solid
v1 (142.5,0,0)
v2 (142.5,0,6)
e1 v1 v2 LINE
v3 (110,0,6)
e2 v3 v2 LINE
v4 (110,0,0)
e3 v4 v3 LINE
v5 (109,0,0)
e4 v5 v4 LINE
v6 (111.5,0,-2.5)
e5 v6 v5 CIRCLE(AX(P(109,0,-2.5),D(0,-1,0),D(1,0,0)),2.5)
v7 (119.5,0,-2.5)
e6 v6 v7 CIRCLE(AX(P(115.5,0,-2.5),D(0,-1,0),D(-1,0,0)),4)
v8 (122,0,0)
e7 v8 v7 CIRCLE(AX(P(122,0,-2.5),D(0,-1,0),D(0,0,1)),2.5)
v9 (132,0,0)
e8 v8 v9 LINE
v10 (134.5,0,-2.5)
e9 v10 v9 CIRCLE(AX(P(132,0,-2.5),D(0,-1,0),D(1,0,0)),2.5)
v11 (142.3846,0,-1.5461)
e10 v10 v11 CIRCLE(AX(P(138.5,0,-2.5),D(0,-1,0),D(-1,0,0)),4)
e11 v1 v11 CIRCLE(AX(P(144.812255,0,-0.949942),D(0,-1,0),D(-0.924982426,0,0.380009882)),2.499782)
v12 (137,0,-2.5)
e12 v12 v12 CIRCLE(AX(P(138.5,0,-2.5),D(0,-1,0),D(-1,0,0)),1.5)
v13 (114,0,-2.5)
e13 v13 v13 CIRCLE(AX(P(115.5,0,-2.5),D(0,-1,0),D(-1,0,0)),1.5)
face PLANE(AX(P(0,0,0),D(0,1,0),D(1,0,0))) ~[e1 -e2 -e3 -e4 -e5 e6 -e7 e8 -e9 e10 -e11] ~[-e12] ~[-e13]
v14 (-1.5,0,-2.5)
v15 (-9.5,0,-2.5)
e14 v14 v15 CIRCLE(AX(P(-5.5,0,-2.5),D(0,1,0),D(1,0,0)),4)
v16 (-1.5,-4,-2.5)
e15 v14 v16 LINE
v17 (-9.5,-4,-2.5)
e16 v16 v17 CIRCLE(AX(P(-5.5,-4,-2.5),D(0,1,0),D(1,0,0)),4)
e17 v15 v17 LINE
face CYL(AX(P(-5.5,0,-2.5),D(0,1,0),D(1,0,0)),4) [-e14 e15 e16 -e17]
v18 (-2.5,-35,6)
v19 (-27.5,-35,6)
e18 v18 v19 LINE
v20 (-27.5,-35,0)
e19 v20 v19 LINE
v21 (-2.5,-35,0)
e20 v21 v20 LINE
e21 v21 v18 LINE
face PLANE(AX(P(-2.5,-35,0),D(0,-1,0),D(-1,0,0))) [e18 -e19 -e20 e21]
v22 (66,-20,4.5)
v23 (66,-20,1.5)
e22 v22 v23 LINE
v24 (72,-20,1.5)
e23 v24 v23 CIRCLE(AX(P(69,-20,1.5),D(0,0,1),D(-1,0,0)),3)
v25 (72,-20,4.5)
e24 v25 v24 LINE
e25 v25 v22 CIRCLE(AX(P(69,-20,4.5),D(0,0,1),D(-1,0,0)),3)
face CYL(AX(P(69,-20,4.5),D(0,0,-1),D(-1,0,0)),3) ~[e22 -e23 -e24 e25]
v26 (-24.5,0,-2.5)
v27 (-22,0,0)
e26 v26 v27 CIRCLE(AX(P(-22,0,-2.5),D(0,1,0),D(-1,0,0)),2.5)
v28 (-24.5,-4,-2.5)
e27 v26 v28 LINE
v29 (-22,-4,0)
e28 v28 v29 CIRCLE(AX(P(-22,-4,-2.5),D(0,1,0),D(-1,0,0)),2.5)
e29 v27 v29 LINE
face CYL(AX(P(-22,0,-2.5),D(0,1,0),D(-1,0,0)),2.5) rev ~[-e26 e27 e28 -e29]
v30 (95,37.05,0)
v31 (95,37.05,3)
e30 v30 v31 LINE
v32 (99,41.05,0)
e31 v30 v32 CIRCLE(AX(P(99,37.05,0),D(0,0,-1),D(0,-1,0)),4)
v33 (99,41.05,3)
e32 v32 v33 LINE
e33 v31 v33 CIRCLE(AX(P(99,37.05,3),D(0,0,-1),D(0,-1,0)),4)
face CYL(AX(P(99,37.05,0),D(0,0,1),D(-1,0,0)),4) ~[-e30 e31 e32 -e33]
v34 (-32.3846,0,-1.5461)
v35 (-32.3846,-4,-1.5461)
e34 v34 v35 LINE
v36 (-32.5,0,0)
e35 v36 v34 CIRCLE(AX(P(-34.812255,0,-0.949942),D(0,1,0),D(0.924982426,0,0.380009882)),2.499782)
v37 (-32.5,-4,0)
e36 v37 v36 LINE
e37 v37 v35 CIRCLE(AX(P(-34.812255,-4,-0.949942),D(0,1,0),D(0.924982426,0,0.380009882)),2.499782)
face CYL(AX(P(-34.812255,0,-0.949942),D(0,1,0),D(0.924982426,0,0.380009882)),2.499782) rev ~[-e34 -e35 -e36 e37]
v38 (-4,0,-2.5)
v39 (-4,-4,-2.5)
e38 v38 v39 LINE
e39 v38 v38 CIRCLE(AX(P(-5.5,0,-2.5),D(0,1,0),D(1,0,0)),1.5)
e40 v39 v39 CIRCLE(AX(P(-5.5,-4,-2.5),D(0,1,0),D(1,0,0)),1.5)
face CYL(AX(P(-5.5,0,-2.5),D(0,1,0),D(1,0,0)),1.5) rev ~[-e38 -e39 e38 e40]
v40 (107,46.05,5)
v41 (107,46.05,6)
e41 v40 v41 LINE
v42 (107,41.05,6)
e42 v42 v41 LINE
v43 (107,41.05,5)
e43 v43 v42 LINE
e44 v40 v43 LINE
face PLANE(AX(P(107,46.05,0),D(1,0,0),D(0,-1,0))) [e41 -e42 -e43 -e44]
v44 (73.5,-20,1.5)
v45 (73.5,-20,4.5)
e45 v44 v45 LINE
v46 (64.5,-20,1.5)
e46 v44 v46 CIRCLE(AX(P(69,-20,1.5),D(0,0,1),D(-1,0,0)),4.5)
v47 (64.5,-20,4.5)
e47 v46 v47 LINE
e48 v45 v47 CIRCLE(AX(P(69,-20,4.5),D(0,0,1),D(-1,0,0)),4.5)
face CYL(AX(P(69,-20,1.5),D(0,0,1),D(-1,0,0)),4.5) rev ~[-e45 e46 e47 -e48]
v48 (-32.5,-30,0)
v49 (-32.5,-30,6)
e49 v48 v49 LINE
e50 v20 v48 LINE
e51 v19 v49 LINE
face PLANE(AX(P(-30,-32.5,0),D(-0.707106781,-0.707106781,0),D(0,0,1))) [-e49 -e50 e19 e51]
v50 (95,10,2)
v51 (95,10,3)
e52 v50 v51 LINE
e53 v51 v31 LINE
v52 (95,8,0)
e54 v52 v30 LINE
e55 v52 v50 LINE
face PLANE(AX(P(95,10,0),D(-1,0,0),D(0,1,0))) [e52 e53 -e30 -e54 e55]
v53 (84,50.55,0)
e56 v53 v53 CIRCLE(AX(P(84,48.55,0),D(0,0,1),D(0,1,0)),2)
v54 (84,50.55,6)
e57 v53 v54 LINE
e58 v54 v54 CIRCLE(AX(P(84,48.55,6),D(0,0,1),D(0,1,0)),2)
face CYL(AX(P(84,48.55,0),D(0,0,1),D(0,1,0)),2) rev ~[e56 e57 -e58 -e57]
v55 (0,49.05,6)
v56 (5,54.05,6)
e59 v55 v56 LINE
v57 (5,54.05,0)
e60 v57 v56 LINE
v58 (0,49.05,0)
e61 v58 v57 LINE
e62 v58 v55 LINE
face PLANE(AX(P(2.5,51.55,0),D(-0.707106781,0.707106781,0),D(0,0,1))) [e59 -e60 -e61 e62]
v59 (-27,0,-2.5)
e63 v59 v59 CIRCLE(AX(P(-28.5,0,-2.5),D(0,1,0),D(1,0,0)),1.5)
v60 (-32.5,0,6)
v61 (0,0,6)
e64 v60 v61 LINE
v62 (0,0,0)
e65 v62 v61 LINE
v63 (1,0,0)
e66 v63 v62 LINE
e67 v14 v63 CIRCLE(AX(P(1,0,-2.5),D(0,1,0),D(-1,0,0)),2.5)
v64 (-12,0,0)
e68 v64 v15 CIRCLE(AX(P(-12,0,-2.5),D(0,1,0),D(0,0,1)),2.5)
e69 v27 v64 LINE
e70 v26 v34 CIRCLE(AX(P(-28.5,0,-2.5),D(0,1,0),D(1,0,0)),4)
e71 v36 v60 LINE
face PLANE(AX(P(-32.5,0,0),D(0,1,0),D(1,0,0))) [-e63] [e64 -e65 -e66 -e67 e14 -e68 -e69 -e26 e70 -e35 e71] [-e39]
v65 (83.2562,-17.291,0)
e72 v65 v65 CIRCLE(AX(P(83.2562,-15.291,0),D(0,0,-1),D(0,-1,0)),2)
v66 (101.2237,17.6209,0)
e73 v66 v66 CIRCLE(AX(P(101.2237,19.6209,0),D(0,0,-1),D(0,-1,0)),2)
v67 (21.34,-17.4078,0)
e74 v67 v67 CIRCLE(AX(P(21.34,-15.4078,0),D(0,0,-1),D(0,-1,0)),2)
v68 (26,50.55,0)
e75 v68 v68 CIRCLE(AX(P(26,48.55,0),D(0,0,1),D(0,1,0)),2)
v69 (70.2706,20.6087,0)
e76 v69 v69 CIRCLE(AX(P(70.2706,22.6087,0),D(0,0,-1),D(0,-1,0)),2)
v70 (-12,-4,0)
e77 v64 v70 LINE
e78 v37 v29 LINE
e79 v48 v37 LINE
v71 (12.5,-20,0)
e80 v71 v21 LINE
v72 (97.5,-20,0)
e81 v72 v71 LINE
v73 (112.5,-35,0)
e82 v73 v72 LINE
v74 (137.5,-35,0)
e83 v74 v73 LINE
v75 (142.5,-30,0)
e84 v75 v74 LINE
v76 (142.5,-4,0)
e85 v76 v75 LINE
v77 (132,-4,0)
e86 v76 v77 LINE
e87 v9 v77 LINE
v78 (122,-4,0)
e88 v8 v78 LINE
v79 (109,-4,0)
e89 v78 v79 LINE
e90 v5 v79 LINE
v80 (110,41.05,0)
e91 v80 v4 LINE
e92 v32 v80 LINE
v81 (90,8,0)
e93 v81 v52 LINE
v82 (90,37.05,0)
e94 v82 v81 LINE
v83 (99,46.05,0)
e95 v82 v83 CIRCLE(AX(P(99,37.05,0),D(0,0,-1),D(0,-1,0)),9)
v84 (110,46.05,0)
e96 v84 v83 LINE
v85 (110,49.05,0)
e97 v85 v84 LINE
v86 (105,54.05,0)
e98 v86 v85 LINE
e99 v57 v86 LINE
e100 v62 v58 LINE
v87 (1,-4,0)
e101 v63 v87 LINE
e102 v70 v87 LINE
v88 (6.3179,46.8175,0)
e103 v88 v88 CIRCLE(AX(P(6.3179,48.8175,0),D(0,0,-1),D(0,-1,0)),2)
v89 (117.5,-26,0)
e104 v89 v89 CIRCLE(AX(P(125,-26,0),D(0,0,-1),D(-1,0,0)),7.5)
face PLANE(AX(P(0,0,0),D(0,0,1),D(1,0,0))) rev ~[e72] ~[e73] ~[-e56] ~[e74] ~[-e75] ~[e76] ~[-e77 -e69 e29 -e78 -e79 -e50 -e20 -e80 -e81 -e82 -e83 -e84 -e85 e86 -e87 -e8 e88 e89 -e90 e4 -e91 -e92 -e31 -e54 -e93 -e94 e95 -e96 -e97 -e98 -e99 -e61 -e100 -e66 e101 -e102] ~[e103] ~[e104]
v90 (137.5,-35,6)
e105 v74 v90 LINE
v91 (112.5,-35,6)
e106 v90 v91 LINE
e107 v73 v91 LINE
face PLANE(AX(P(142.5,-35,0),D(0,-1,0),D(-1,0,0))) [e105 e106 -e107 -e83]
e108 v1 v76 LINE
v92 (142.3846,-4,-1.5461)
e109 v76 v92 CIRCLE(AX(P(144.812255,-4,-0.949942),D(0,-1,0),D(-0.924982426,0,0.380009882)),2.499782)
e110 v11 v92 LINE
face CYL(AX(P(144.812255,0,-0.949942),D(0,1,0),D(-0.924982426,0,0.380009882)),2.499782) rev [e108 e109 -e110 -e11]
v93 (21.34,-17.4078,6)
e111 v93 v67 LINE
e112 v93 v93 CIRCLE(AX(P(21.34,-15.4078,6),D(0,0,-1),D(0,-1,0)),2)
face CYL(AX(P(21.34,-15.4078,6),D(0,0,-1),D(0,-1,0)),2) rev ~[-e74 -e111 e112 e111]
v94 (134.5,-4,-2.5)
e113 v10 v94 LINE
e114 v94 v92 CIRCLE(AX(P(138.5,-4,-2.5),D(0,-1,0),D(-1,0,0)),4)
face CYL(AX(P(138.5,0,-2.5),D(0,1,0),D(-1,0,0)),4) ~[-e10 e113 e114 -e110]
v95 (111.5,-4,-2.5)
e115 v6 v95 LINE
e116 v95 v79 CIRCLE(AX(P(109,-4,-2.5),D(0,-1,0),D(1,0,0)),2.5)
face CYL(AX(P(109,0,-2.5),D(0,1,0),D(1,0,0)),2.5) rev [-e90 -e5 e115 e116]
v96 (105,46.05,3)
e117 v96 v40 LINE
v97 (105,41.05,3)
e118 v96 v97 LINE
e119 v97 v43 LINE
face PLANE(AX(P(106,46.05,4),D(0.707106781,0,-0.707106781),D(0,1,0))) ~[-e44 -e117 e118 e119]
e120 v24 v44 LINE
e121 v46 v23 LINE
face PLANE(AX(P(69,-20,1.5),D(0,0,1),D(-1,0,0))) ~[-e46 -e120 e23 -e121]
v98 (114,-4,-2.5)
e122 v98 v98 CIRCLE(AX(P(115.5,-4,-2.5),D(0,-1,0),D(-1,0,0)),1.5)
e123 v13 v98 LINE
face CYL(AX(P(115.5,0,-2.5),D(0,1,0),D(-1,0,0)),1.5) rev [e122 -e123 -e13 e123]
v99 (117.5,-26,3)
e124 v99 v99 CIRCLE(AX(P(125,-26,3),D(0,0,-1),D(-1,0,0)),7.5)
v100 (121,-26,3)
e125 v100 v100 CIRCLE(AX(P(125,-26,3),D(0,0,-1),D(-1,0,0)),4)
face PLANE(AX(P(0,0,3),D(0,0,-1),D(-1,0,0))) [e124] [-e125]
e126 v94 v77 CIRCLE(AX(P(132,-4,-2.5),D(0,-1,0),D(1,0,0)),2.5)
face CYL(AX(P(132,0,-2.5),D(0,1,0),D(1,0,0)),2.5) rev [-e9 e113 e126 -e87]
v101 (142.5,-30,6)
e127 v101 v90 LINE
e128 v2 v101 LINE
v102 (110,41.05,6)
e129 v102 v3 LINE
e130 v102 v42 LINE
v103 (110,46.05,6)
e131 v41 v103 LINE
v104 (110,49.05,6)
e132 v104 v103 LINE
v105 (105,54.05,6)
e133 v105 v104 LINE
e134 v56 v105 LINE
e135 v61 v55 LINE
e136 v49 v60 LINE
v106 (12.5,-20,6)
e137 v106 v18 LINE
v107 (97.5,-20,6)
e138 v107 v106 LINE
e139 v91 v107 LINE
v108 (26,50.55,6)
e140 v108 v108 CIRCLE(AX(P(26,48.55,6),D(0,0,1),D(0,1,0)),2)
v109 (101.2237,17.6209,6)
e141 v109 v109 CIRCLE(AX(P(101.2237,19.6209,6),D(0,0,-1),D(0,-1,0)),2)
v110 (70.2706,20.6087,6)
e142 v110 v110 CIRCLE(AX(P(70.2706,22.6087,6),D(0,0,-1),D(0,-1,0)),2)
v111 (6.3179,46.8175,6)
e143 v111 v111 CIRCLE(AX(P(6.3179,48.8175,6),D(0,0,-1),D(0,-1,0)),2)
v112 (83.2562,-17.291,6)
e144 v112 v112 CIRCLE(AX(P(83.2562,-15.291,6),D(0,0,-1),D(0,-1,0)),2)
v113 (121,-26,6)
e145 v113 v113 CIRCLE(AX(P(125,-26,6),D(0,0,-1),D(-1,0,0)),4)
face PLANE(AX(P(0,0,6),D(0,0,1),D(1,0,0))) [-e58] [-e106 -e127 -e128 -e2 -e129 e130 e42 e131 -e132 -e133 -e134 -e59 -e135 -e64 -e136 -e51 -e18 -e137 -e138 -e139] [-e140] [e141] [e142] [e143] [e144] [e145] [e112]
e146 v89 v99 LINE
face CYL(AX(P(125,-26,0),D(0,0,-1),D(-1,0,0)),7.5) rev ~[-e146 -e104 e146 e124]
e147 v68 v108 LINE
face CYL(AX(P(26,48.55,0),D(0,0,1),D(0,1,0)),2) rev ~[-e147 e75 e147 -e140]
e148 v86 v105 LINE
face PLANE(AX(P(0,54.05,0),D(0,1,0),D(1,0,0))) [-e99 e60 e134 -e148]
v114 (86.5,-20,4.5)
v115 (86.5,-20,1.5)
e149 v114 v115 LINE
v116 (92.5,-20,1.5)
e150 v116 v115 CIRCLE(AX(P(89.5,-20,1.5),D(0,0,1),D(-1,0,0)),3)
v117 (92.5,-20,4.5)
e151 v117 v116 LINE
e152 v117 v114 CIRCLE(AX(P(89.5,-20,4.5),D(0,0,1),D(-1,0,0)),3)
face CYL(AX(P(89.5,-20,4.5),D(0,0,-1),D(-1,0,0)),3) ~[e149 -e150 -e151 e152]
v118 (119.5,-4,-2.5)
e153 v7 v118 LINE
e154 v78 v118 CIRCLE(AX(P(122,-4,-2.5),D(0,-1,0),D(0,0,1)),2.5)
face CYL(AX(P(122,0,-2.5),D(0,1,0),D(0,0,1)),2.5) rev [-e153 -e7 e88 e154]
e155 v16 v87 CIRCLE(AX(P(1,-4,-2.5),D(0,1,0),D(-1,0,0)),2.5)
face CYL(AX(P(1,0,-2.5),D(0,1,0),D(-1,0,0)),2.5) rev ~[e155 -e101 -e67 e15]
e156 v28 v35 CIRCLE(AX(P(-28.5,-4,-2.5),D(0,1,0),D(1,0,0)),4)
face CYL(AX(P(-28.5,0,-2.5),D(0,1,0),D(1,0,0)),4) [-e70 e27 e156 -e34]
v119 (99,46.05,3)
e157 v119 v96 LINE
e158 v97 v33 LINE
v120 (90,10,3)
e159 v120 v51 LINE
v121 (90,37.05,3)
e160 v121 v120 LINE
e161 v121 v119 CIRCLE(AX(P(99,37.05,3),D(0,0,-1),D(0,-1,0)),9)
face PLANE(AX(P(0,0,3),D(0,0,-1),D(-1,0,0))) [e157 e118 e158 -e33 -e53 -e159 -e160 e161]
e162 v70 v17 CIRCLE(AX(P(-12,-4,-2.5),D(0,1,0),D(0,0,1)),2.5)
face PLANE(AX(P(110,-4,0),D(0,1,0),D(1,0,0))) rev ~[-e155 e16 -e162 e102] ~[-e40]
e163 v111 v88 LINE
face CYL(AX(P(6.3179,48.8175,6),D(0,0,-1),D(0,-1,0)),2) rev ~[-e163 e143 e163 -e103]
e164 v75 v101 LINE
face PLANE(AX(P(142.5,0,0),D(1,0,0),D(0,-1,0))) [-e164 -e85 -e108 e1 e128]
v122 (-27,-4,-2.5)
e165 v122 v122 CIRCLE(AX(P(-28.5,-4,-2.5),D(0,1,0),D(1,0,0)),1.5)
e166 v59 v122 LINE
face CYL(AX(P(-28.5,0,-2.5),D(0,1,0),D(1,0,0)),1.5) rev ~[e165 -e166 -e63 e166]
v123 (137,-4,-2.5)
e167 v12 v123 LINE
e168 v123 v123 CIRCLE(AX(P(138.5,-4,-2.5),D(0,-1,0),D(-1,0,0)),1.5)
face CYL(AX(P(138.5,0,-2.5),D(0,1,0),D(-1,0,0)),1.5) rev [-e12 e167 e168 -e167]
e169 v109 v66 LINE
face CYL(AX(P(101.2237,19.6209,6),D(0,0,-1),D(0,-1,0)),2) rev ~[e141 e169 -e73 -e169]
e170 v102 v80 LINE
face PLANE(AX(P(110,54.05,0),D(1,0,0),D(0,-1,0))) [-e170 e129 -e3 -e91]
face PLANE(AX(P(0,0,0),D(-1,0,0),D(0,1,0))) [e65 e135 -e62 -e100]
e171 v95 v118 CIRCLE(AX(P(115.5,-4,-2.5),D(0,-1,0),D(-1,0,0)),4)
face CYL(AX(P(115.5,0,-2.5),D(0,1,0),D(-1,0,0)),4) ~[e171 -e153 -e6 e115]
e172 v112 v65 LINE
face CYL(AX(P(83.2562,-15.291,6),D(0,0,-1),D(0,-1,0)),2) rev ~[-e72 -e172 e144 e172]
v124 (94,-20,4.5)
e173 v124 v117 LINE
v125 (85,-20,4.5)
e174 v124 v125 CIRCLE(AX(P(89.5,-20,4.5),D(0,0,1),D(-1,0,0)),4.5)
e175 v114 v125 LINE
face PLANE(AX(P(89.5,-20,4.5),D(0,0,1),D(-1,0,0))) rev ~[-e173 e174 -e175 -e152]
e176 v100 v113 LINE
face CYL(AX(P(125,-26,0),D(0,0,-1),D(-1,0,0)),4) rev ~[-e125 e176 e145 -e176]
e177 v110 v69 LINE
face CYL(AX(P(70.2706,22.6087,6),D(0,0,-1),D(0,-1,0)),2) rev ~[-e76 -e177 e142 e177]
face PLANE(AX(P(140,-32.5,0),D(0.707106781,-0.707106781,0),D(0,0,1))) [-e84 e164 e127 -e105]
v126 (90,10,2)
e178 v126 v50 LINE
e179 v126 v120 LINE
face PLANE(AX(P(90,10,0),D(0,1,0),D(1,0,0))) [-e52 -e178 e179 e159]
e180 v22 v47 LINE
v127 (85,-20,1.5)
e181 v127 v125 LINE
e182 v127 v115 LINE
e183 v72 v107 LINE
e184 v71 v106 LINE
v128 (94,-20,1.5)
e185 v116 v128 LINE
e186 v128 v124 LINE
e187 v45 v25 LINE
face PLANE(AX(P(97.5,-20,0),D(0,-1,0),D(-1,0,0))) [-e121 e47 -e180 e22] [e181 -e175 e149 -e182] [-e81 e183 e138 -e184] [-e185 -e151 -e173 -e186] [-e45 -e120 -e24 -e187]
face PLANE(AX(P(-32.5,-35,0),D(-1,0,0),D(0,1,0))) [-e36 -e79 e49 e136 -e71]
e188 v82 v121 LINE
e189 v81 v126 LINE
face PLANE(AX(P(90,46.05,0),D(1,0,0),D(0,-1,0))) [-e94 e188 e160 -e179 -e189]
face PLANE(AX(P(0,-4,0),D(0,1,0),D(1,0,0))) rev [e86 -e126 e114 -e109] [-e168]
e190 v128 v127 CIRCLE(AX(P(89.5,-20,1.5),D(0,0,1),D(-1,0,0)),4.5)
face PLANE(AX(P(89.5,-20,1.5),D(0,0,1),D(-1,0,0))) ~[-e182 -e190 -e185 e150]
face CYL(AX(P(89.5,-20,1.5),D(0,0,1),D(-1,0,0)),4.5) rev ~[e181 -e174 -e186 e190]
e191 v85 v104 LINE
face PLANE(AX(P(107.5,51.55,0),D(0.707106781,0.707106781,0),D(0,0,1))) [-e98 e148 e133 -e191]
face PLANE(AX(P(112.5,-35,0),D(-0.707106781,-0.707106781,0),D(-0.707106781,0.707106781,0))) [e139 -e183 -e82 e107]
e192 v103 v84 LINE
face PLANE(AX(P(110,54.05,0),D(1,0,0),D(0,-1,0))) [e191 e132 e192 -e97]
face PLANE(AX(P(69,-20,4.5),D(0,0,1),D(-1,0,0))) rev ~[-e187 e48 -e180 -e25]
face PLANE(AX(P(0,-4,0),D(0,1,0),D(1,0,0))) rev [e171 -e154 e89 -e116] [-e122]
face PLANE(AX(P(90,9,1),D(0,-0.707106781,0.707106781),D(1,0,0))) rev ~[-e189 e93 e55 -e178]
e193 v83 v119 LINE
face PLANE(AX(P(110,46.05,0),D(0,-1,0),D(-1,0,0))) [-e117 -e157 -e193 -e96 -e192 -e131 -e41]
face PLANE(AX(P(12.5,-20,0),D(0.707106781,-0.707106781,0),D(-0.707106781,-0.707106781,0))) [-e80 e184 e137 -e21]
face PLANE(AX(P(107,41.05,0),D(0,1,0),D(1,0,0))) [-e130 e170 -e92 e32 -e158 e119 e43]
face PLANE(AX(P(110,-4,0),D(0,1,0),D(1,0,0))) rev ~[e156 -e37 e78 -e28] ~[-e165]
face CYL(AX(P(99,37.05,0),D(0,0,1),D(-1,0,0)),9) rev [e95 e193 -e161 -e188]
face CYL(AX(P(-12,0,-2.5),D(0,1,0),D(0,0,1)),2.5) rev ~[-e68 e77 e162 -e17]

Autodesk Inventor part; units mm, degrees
ref_plane "YZ Plane" through (0, 0, 0) normal (1, 0, 0) x (0, 1, 0)
ref_plane "XZ Plane" through (0, 0, 0) normal (0, 1, 0) x (-1, 0, 0)
sketch "Sketch1" plane through (0, 0, 0) normal (0, 0, 1) x (1, 0, 0)
  line L0 (-32.5, 0) -> (0, 0)
  line L1 (0, 0) -> (0, 54.05)
  line L2 (0, 54.05) -> (110, 54.05)
  line L3 (110, 54.05) -> (110, 0)
  line L4 (110, 0) -> (142.5, 0)
  line L5 (142.5, 0) -> (142.5, -35)
  line L6 (142.5, -35) -> (112.5, -35)
  line L7 (112.5, -35) -> (97.5, -20)
  line L8 (97.5, -20) -> (12.5, -20)
  line L9 (12.5, -20) -> (-2.5, -35)
  line L10 (-2.5, -35) -> (-32.5, -35)
  line L11 (-32.5, -35) -> (-32.5, 0)
  dimension "d0" = 135
  dimension "d1" = 135
  dimension "d2" = 110
  dimension "d3" = 54.05
  dimension "d4" = 35
  dimension "d5" = 32.5
  dimension "d6" = 20
  dimension "d7" = 30
extrude "Extrusion1" add sketch "Sketch1" along normal blind 6
chamfer "Chamfer1" distance 5 angle 45 4 edges at (0, 54.05, 3) (110, 54.05, 3) (-32.5, -35, 3) (142.5, -35, 3)
sketch "Sketch2" plane through (110, 0, 0) normal (0, 1, 0) x (1, 0, 0)
  circle A0 centre (-138.5, 2.5) radius 1.5
  circle A1 centre (-115.5, 2.5) radius 1.5
  line L0 (-142.5, 0) -> (-142.5, -6) projected
  line L1 (-110, 0) -> (-142.5, 0) projected
  circle A2 centre (-138.5, 2.5) radius 4
  line L2 (-142.5, 0) -> (-112.5, 0) projected
  arc A3 (-142.5, 0) -> (-142.3846, 1.5461) centre (-144.8125, 0.95) ccw
  arc A4 (-134.5, 2.5) -> (-132, 0) centre (-132, 2.5) ccw
  arc A5 (-122, 0) -> (-119.5, 2.5) centre (-122, 2.5) ccw
  arc A6 (-111.5, 2.5) -> (-109, 0) centre (-109, 2.5) ccw
  circle A7 centre (-115.5, 2.5) radius 4
  line L3 (-109, 0) -> (-112.3775, 0)
  line L4 (-112.5, 0) -> (-97.5, 0) projected
  point P0 (-122, 0)
  point P1 (-132, 0)
  point P2 (-118.6225, 0)
  point P3 (-112.3775, 0)
  dimension "d13" = 3
  dimension "d14" = 3
  dimension "d15" = 4
  dimension "d16" = 27
  dimension "d17" = 2.5
  dimension "d18" = 8
extrude "Extrusion2" add sketch "Sketch2" against normal blind 4 contours L1 A2 A4 | L1 A7 A6 L3 | L1 A7 | L1 A5 A7 | L1 A2 | L1 A3 A2 picked at (-115.6011, 0.337) picked at (-138.4397, 0.337)
sketch "Sketch3" plane through (0, 0, 0) normal (0, 0, -1) x (-1, 0, 0)
  line L0 (-105, 54.05) -> (-5, 54.05) projected
  line L1 (0, 49.05) -> (0, 0) projected
  line L2 (-110, 0) -> (-110, 49.05) projected
  point P0 (-84, 48.55)
  point P1 (-26, 48.55)
  dimension "d21" = 5.5
  dimension "d22" = 26
  dimension "d23" = 26
hole "Hole1" at (84, 48.55, 0) at (26, 48.55, 0) direction (0, 0, 1) diameter 4 depth 24
sketch "Sketch4" plane through (12.5, -20, 0) normal (0, -1, 0) x (1, 0, 0)
  line L0 (74, 1.5) -> (72.5, 1.5)
  line L1 (72.5, 1.5) -> (72.5, 4.5)
  line L2 (72.5, 4.5) -> (74, 4.5)
  line L3 (74, 4.5) -> (74, 1.5)
  line L4 (77, 1.5) -> (77, 4.5)
  line L5 (-15, 0) -> (-15, 6) projected
  line L6 (85, 0) -> (85, 6) projected
  line L7 (53.5, 1.5) -> (52, 1.5)
  line L8 (52, 1.5) -> (52, 4.5)
  line L9 (52, 4.5) -> (53.5, 4.5)
  line L10 (53.5, 4.5) -> (53.5, 1.5)
  line L11 (56.5, 1.5) -> (56.5, 4.5)
  point P0 (-12.5, 0)
  point P1 (72.5, 3)
  point P2 (-15, 3)
  point P3 (77, 3)
  point P4 (74, 3)
  point P5 (53.5, 3)
  point P6 (56.5, 3)
  dimension "d31" = 1.5
  dimension "d32" = 3
  dimension "d33" = 3
  dimension "d35" = 8
  dimension "d36" = 1.5
  dimension "d37" = 3
  dimension "d38" = 3
  dimension "d39" = 16
revolve "Revolution1" cut sketch "Sketch4" angle 360 about axis through (89.5, -20, 1.5) along (0, 0, 1) contours L0 L1 L2 L3
revolve "Revolution2" cut sketch "Sketch4" angle 360 about axis through (69, -20, 1.5) along (0, 0, 1) contours L7 L8 L9 L10
ref_plane "Work Plane1" through (55, 0, 6) normal (1, 0, 0) x (0, 0, -1)
mirror "Mirror1" about plane through (55, 0, 6) normal (1, 0, 0) of "Extrusion2"
sketch "Sketch5" plane through (0, 0, 6) normal (0, 0, 1) x (1, 0, 0)
  circle A0 centre (101.2237, 19.6209) radius 1.6
  circle A1 centre (70.2706, 22.6087) radius 1.6
  circle A2 centre (21.34, -15.4078) radius 1.6
  circle A3 centre (83.2562, -15.291) radius 1.6
  circle A4 centre (6.3179, 48.8175) radius 1.6
  circle A5 centre (70.2706, 22.6087) radius 4
  circle A6 centre (101.2237, 19.6209) radius 4
  circle A7 centre (83.2562, -15.291) radius 4
  circle A8 centre (21.34, -15.4078) radius 4
  circle A9 centre (6.3179, 48.8175) radius 4
  line L0 (109, 0) -> (109, -4) projected
  line L1 (12.5, -20) -> (97.5, -20) projected
  line L2 (110, 0) -> (97.5, -20)
  circle A10 centre (26, 48.55) radius 2
  circle A11 centre (84, 48.55) radius 2
  circle A12 centre (26, 48.55) radius 4
  circle A13 centre (84, 48.55) radius 4
  circle A14 centre (84, 48.55) radius 2
  circle A15 centre (26, 48.55) radius 2
  line L3 (105, 54.05) -> (110, 49.05) projected
  line L4 (105, 54.05) -> (5, 54.05) projected
  line L5 (0, 49.05) -> (5, 54.05) projected
  line L6 (0, 49.05) -> (0, 0) projected
  line L7 (0, 0) -> (-32.5, 0) projected
  line L8 (-32.5, 0) -> (-32.5, -30) projected
  line L9 (-27.5, -35) -> (-2.5, -35) projected
  line L10 (-2.5, -35) -> (12.5, -20) projected
  line L11 (12.5, -20) -> (97.5, -20) projected
  line L12 (97.5, -20) -> (112.5, -35) projected
  line L13 (112.5, -35) -> (137.5, -35) projected
  line L14 (142.5, -30) -> (142.5, 0) projected
  line L15 (142.5, 0) -> (110, 0) projected
  line L16 (110, 0) -> (110, 49.05) projected
  line L17 (0, 49.05) -> (5, 54.05) projected
  line L18 (105, 54.05) -> (5, 54.05) projected
  line L19 (105, 54.05) -> (110, 49.05) projected
  line L20 (142.5, -30) -> (137.5, -35) projected
  line L21 (-27.5, -35) -> (-32.5, -30) projected
  circle A16 centre (6.3179, 48.8175) radius 1.6
  circle A17 centre (21.34, -15.4078) radius 1.6
  circle A18 centre (70.2706, 22.6087) radius 1.6
  circle A19 centre (101.2237, 19.6209) radius 1.6
  circle A20 centre (83.2562, -15.291) radius 1.6
  line L22 (110, 0) -> (110, 49.05) projected
  line L23 (0, 49.05) -> (0, 0) projected
  dimension "d41" = 8
  dimension "d82" = 5.5
  dimension "d83" = 5.5
  dimension "d84" = 26
  dimension "d85" = 26
hole "Hole2" at (6.3179, 48.8175, 6) at (70.2706, 22.6087, 6) at (101.2237, 19.6209, 6) at (83.2562, -15.291, 6) at (21.34, -15.4078, 6) direction (0, 0, -1) diameter 4 depth 24
sketch "Sketch6" plane through (0, 0, 0) normal (0, 0, -1) x (-1, 0, 0)
  line L0 (-110, 0) -> (-110, 49.05) projected
  line L1 (-110, 46.05) -> (-107, 46.05)
  line L2 (-107, 46.05) -> (-90, 46.05)
  line L3 (-90, 46.05) -> (-90, 10)
  line L4 (-90, 10) -> (-95, 10)
  line L5 (-95, 10) -> (-95, 41.05)
  line L6 (-95, 41.05) -> (-110, 41.05)
  line L7 (-110, 0) -> (-110, 49.05) projected
  line L8 (-12.5, -20) -> (-97.5, -20) projected
  line L9 (-107, 46.05) -> (-107, 41.05)
  point P0 (0, 0)
  dimension "d49" = 30
  dimension "d50" = 5
  dimension "d51" = 5
  dimension "d55" = 15
  dimension "d68" = 3
  dimension "d69" = 3
extrude "Extrusion3" cut sketch "Sketch6" against normal blind 3
extrude "Extrusion4" cut sketch "Sketch6" against normal through all contours L0 L1 L9 L6
fillet "Fillet1" radius 4 1 edges at (95, 41.05, 1.5)
fillet "Fillet2" radius 9 1 edges at (90, 46.05, 1.5)
chamfer "Chamfer2" distance 2 angle 45 2 edges at (92.5, 10, 0) (107, 43.55, 3)
sketch "Sketch7" plane through (0, 0, 0) normal (0, 0, -1) x (-1, 0, 0)
  circle A0 centre (-125, -26) radius 4
  circle A1 centre (-125, -26) radius 5 construction
  circle A2 centre (-125, -26) radius 9 construction
  line L0 (-112.5, -35) -> (-137.5, -35) projected
  circle A3 centre (-125, -26) radius 7.5
  point P0 (0, 0)
  point P1 (-125, -35)
  dimension "d70" = 8
  dimension "d71" = 10
  dimension "d72" = 18
  dimension "d75" = 15
extrude "Extrusion5" cut sketch "Sketch7" against normal through all contours A0
extrude "Extrusion6" cut sketch "Sketch7" against normal blind 3 contours A0 | A3
equation "\"d51\" = d50"
equation "\"d61\" = d60 + d50"
equation "\"MotorHeight\" = MotorHeightBase"
equation "\"d60\" = 4"
equation "\"MotorHeightBase\" = 28"
properties part number "Driver Board Mount"
